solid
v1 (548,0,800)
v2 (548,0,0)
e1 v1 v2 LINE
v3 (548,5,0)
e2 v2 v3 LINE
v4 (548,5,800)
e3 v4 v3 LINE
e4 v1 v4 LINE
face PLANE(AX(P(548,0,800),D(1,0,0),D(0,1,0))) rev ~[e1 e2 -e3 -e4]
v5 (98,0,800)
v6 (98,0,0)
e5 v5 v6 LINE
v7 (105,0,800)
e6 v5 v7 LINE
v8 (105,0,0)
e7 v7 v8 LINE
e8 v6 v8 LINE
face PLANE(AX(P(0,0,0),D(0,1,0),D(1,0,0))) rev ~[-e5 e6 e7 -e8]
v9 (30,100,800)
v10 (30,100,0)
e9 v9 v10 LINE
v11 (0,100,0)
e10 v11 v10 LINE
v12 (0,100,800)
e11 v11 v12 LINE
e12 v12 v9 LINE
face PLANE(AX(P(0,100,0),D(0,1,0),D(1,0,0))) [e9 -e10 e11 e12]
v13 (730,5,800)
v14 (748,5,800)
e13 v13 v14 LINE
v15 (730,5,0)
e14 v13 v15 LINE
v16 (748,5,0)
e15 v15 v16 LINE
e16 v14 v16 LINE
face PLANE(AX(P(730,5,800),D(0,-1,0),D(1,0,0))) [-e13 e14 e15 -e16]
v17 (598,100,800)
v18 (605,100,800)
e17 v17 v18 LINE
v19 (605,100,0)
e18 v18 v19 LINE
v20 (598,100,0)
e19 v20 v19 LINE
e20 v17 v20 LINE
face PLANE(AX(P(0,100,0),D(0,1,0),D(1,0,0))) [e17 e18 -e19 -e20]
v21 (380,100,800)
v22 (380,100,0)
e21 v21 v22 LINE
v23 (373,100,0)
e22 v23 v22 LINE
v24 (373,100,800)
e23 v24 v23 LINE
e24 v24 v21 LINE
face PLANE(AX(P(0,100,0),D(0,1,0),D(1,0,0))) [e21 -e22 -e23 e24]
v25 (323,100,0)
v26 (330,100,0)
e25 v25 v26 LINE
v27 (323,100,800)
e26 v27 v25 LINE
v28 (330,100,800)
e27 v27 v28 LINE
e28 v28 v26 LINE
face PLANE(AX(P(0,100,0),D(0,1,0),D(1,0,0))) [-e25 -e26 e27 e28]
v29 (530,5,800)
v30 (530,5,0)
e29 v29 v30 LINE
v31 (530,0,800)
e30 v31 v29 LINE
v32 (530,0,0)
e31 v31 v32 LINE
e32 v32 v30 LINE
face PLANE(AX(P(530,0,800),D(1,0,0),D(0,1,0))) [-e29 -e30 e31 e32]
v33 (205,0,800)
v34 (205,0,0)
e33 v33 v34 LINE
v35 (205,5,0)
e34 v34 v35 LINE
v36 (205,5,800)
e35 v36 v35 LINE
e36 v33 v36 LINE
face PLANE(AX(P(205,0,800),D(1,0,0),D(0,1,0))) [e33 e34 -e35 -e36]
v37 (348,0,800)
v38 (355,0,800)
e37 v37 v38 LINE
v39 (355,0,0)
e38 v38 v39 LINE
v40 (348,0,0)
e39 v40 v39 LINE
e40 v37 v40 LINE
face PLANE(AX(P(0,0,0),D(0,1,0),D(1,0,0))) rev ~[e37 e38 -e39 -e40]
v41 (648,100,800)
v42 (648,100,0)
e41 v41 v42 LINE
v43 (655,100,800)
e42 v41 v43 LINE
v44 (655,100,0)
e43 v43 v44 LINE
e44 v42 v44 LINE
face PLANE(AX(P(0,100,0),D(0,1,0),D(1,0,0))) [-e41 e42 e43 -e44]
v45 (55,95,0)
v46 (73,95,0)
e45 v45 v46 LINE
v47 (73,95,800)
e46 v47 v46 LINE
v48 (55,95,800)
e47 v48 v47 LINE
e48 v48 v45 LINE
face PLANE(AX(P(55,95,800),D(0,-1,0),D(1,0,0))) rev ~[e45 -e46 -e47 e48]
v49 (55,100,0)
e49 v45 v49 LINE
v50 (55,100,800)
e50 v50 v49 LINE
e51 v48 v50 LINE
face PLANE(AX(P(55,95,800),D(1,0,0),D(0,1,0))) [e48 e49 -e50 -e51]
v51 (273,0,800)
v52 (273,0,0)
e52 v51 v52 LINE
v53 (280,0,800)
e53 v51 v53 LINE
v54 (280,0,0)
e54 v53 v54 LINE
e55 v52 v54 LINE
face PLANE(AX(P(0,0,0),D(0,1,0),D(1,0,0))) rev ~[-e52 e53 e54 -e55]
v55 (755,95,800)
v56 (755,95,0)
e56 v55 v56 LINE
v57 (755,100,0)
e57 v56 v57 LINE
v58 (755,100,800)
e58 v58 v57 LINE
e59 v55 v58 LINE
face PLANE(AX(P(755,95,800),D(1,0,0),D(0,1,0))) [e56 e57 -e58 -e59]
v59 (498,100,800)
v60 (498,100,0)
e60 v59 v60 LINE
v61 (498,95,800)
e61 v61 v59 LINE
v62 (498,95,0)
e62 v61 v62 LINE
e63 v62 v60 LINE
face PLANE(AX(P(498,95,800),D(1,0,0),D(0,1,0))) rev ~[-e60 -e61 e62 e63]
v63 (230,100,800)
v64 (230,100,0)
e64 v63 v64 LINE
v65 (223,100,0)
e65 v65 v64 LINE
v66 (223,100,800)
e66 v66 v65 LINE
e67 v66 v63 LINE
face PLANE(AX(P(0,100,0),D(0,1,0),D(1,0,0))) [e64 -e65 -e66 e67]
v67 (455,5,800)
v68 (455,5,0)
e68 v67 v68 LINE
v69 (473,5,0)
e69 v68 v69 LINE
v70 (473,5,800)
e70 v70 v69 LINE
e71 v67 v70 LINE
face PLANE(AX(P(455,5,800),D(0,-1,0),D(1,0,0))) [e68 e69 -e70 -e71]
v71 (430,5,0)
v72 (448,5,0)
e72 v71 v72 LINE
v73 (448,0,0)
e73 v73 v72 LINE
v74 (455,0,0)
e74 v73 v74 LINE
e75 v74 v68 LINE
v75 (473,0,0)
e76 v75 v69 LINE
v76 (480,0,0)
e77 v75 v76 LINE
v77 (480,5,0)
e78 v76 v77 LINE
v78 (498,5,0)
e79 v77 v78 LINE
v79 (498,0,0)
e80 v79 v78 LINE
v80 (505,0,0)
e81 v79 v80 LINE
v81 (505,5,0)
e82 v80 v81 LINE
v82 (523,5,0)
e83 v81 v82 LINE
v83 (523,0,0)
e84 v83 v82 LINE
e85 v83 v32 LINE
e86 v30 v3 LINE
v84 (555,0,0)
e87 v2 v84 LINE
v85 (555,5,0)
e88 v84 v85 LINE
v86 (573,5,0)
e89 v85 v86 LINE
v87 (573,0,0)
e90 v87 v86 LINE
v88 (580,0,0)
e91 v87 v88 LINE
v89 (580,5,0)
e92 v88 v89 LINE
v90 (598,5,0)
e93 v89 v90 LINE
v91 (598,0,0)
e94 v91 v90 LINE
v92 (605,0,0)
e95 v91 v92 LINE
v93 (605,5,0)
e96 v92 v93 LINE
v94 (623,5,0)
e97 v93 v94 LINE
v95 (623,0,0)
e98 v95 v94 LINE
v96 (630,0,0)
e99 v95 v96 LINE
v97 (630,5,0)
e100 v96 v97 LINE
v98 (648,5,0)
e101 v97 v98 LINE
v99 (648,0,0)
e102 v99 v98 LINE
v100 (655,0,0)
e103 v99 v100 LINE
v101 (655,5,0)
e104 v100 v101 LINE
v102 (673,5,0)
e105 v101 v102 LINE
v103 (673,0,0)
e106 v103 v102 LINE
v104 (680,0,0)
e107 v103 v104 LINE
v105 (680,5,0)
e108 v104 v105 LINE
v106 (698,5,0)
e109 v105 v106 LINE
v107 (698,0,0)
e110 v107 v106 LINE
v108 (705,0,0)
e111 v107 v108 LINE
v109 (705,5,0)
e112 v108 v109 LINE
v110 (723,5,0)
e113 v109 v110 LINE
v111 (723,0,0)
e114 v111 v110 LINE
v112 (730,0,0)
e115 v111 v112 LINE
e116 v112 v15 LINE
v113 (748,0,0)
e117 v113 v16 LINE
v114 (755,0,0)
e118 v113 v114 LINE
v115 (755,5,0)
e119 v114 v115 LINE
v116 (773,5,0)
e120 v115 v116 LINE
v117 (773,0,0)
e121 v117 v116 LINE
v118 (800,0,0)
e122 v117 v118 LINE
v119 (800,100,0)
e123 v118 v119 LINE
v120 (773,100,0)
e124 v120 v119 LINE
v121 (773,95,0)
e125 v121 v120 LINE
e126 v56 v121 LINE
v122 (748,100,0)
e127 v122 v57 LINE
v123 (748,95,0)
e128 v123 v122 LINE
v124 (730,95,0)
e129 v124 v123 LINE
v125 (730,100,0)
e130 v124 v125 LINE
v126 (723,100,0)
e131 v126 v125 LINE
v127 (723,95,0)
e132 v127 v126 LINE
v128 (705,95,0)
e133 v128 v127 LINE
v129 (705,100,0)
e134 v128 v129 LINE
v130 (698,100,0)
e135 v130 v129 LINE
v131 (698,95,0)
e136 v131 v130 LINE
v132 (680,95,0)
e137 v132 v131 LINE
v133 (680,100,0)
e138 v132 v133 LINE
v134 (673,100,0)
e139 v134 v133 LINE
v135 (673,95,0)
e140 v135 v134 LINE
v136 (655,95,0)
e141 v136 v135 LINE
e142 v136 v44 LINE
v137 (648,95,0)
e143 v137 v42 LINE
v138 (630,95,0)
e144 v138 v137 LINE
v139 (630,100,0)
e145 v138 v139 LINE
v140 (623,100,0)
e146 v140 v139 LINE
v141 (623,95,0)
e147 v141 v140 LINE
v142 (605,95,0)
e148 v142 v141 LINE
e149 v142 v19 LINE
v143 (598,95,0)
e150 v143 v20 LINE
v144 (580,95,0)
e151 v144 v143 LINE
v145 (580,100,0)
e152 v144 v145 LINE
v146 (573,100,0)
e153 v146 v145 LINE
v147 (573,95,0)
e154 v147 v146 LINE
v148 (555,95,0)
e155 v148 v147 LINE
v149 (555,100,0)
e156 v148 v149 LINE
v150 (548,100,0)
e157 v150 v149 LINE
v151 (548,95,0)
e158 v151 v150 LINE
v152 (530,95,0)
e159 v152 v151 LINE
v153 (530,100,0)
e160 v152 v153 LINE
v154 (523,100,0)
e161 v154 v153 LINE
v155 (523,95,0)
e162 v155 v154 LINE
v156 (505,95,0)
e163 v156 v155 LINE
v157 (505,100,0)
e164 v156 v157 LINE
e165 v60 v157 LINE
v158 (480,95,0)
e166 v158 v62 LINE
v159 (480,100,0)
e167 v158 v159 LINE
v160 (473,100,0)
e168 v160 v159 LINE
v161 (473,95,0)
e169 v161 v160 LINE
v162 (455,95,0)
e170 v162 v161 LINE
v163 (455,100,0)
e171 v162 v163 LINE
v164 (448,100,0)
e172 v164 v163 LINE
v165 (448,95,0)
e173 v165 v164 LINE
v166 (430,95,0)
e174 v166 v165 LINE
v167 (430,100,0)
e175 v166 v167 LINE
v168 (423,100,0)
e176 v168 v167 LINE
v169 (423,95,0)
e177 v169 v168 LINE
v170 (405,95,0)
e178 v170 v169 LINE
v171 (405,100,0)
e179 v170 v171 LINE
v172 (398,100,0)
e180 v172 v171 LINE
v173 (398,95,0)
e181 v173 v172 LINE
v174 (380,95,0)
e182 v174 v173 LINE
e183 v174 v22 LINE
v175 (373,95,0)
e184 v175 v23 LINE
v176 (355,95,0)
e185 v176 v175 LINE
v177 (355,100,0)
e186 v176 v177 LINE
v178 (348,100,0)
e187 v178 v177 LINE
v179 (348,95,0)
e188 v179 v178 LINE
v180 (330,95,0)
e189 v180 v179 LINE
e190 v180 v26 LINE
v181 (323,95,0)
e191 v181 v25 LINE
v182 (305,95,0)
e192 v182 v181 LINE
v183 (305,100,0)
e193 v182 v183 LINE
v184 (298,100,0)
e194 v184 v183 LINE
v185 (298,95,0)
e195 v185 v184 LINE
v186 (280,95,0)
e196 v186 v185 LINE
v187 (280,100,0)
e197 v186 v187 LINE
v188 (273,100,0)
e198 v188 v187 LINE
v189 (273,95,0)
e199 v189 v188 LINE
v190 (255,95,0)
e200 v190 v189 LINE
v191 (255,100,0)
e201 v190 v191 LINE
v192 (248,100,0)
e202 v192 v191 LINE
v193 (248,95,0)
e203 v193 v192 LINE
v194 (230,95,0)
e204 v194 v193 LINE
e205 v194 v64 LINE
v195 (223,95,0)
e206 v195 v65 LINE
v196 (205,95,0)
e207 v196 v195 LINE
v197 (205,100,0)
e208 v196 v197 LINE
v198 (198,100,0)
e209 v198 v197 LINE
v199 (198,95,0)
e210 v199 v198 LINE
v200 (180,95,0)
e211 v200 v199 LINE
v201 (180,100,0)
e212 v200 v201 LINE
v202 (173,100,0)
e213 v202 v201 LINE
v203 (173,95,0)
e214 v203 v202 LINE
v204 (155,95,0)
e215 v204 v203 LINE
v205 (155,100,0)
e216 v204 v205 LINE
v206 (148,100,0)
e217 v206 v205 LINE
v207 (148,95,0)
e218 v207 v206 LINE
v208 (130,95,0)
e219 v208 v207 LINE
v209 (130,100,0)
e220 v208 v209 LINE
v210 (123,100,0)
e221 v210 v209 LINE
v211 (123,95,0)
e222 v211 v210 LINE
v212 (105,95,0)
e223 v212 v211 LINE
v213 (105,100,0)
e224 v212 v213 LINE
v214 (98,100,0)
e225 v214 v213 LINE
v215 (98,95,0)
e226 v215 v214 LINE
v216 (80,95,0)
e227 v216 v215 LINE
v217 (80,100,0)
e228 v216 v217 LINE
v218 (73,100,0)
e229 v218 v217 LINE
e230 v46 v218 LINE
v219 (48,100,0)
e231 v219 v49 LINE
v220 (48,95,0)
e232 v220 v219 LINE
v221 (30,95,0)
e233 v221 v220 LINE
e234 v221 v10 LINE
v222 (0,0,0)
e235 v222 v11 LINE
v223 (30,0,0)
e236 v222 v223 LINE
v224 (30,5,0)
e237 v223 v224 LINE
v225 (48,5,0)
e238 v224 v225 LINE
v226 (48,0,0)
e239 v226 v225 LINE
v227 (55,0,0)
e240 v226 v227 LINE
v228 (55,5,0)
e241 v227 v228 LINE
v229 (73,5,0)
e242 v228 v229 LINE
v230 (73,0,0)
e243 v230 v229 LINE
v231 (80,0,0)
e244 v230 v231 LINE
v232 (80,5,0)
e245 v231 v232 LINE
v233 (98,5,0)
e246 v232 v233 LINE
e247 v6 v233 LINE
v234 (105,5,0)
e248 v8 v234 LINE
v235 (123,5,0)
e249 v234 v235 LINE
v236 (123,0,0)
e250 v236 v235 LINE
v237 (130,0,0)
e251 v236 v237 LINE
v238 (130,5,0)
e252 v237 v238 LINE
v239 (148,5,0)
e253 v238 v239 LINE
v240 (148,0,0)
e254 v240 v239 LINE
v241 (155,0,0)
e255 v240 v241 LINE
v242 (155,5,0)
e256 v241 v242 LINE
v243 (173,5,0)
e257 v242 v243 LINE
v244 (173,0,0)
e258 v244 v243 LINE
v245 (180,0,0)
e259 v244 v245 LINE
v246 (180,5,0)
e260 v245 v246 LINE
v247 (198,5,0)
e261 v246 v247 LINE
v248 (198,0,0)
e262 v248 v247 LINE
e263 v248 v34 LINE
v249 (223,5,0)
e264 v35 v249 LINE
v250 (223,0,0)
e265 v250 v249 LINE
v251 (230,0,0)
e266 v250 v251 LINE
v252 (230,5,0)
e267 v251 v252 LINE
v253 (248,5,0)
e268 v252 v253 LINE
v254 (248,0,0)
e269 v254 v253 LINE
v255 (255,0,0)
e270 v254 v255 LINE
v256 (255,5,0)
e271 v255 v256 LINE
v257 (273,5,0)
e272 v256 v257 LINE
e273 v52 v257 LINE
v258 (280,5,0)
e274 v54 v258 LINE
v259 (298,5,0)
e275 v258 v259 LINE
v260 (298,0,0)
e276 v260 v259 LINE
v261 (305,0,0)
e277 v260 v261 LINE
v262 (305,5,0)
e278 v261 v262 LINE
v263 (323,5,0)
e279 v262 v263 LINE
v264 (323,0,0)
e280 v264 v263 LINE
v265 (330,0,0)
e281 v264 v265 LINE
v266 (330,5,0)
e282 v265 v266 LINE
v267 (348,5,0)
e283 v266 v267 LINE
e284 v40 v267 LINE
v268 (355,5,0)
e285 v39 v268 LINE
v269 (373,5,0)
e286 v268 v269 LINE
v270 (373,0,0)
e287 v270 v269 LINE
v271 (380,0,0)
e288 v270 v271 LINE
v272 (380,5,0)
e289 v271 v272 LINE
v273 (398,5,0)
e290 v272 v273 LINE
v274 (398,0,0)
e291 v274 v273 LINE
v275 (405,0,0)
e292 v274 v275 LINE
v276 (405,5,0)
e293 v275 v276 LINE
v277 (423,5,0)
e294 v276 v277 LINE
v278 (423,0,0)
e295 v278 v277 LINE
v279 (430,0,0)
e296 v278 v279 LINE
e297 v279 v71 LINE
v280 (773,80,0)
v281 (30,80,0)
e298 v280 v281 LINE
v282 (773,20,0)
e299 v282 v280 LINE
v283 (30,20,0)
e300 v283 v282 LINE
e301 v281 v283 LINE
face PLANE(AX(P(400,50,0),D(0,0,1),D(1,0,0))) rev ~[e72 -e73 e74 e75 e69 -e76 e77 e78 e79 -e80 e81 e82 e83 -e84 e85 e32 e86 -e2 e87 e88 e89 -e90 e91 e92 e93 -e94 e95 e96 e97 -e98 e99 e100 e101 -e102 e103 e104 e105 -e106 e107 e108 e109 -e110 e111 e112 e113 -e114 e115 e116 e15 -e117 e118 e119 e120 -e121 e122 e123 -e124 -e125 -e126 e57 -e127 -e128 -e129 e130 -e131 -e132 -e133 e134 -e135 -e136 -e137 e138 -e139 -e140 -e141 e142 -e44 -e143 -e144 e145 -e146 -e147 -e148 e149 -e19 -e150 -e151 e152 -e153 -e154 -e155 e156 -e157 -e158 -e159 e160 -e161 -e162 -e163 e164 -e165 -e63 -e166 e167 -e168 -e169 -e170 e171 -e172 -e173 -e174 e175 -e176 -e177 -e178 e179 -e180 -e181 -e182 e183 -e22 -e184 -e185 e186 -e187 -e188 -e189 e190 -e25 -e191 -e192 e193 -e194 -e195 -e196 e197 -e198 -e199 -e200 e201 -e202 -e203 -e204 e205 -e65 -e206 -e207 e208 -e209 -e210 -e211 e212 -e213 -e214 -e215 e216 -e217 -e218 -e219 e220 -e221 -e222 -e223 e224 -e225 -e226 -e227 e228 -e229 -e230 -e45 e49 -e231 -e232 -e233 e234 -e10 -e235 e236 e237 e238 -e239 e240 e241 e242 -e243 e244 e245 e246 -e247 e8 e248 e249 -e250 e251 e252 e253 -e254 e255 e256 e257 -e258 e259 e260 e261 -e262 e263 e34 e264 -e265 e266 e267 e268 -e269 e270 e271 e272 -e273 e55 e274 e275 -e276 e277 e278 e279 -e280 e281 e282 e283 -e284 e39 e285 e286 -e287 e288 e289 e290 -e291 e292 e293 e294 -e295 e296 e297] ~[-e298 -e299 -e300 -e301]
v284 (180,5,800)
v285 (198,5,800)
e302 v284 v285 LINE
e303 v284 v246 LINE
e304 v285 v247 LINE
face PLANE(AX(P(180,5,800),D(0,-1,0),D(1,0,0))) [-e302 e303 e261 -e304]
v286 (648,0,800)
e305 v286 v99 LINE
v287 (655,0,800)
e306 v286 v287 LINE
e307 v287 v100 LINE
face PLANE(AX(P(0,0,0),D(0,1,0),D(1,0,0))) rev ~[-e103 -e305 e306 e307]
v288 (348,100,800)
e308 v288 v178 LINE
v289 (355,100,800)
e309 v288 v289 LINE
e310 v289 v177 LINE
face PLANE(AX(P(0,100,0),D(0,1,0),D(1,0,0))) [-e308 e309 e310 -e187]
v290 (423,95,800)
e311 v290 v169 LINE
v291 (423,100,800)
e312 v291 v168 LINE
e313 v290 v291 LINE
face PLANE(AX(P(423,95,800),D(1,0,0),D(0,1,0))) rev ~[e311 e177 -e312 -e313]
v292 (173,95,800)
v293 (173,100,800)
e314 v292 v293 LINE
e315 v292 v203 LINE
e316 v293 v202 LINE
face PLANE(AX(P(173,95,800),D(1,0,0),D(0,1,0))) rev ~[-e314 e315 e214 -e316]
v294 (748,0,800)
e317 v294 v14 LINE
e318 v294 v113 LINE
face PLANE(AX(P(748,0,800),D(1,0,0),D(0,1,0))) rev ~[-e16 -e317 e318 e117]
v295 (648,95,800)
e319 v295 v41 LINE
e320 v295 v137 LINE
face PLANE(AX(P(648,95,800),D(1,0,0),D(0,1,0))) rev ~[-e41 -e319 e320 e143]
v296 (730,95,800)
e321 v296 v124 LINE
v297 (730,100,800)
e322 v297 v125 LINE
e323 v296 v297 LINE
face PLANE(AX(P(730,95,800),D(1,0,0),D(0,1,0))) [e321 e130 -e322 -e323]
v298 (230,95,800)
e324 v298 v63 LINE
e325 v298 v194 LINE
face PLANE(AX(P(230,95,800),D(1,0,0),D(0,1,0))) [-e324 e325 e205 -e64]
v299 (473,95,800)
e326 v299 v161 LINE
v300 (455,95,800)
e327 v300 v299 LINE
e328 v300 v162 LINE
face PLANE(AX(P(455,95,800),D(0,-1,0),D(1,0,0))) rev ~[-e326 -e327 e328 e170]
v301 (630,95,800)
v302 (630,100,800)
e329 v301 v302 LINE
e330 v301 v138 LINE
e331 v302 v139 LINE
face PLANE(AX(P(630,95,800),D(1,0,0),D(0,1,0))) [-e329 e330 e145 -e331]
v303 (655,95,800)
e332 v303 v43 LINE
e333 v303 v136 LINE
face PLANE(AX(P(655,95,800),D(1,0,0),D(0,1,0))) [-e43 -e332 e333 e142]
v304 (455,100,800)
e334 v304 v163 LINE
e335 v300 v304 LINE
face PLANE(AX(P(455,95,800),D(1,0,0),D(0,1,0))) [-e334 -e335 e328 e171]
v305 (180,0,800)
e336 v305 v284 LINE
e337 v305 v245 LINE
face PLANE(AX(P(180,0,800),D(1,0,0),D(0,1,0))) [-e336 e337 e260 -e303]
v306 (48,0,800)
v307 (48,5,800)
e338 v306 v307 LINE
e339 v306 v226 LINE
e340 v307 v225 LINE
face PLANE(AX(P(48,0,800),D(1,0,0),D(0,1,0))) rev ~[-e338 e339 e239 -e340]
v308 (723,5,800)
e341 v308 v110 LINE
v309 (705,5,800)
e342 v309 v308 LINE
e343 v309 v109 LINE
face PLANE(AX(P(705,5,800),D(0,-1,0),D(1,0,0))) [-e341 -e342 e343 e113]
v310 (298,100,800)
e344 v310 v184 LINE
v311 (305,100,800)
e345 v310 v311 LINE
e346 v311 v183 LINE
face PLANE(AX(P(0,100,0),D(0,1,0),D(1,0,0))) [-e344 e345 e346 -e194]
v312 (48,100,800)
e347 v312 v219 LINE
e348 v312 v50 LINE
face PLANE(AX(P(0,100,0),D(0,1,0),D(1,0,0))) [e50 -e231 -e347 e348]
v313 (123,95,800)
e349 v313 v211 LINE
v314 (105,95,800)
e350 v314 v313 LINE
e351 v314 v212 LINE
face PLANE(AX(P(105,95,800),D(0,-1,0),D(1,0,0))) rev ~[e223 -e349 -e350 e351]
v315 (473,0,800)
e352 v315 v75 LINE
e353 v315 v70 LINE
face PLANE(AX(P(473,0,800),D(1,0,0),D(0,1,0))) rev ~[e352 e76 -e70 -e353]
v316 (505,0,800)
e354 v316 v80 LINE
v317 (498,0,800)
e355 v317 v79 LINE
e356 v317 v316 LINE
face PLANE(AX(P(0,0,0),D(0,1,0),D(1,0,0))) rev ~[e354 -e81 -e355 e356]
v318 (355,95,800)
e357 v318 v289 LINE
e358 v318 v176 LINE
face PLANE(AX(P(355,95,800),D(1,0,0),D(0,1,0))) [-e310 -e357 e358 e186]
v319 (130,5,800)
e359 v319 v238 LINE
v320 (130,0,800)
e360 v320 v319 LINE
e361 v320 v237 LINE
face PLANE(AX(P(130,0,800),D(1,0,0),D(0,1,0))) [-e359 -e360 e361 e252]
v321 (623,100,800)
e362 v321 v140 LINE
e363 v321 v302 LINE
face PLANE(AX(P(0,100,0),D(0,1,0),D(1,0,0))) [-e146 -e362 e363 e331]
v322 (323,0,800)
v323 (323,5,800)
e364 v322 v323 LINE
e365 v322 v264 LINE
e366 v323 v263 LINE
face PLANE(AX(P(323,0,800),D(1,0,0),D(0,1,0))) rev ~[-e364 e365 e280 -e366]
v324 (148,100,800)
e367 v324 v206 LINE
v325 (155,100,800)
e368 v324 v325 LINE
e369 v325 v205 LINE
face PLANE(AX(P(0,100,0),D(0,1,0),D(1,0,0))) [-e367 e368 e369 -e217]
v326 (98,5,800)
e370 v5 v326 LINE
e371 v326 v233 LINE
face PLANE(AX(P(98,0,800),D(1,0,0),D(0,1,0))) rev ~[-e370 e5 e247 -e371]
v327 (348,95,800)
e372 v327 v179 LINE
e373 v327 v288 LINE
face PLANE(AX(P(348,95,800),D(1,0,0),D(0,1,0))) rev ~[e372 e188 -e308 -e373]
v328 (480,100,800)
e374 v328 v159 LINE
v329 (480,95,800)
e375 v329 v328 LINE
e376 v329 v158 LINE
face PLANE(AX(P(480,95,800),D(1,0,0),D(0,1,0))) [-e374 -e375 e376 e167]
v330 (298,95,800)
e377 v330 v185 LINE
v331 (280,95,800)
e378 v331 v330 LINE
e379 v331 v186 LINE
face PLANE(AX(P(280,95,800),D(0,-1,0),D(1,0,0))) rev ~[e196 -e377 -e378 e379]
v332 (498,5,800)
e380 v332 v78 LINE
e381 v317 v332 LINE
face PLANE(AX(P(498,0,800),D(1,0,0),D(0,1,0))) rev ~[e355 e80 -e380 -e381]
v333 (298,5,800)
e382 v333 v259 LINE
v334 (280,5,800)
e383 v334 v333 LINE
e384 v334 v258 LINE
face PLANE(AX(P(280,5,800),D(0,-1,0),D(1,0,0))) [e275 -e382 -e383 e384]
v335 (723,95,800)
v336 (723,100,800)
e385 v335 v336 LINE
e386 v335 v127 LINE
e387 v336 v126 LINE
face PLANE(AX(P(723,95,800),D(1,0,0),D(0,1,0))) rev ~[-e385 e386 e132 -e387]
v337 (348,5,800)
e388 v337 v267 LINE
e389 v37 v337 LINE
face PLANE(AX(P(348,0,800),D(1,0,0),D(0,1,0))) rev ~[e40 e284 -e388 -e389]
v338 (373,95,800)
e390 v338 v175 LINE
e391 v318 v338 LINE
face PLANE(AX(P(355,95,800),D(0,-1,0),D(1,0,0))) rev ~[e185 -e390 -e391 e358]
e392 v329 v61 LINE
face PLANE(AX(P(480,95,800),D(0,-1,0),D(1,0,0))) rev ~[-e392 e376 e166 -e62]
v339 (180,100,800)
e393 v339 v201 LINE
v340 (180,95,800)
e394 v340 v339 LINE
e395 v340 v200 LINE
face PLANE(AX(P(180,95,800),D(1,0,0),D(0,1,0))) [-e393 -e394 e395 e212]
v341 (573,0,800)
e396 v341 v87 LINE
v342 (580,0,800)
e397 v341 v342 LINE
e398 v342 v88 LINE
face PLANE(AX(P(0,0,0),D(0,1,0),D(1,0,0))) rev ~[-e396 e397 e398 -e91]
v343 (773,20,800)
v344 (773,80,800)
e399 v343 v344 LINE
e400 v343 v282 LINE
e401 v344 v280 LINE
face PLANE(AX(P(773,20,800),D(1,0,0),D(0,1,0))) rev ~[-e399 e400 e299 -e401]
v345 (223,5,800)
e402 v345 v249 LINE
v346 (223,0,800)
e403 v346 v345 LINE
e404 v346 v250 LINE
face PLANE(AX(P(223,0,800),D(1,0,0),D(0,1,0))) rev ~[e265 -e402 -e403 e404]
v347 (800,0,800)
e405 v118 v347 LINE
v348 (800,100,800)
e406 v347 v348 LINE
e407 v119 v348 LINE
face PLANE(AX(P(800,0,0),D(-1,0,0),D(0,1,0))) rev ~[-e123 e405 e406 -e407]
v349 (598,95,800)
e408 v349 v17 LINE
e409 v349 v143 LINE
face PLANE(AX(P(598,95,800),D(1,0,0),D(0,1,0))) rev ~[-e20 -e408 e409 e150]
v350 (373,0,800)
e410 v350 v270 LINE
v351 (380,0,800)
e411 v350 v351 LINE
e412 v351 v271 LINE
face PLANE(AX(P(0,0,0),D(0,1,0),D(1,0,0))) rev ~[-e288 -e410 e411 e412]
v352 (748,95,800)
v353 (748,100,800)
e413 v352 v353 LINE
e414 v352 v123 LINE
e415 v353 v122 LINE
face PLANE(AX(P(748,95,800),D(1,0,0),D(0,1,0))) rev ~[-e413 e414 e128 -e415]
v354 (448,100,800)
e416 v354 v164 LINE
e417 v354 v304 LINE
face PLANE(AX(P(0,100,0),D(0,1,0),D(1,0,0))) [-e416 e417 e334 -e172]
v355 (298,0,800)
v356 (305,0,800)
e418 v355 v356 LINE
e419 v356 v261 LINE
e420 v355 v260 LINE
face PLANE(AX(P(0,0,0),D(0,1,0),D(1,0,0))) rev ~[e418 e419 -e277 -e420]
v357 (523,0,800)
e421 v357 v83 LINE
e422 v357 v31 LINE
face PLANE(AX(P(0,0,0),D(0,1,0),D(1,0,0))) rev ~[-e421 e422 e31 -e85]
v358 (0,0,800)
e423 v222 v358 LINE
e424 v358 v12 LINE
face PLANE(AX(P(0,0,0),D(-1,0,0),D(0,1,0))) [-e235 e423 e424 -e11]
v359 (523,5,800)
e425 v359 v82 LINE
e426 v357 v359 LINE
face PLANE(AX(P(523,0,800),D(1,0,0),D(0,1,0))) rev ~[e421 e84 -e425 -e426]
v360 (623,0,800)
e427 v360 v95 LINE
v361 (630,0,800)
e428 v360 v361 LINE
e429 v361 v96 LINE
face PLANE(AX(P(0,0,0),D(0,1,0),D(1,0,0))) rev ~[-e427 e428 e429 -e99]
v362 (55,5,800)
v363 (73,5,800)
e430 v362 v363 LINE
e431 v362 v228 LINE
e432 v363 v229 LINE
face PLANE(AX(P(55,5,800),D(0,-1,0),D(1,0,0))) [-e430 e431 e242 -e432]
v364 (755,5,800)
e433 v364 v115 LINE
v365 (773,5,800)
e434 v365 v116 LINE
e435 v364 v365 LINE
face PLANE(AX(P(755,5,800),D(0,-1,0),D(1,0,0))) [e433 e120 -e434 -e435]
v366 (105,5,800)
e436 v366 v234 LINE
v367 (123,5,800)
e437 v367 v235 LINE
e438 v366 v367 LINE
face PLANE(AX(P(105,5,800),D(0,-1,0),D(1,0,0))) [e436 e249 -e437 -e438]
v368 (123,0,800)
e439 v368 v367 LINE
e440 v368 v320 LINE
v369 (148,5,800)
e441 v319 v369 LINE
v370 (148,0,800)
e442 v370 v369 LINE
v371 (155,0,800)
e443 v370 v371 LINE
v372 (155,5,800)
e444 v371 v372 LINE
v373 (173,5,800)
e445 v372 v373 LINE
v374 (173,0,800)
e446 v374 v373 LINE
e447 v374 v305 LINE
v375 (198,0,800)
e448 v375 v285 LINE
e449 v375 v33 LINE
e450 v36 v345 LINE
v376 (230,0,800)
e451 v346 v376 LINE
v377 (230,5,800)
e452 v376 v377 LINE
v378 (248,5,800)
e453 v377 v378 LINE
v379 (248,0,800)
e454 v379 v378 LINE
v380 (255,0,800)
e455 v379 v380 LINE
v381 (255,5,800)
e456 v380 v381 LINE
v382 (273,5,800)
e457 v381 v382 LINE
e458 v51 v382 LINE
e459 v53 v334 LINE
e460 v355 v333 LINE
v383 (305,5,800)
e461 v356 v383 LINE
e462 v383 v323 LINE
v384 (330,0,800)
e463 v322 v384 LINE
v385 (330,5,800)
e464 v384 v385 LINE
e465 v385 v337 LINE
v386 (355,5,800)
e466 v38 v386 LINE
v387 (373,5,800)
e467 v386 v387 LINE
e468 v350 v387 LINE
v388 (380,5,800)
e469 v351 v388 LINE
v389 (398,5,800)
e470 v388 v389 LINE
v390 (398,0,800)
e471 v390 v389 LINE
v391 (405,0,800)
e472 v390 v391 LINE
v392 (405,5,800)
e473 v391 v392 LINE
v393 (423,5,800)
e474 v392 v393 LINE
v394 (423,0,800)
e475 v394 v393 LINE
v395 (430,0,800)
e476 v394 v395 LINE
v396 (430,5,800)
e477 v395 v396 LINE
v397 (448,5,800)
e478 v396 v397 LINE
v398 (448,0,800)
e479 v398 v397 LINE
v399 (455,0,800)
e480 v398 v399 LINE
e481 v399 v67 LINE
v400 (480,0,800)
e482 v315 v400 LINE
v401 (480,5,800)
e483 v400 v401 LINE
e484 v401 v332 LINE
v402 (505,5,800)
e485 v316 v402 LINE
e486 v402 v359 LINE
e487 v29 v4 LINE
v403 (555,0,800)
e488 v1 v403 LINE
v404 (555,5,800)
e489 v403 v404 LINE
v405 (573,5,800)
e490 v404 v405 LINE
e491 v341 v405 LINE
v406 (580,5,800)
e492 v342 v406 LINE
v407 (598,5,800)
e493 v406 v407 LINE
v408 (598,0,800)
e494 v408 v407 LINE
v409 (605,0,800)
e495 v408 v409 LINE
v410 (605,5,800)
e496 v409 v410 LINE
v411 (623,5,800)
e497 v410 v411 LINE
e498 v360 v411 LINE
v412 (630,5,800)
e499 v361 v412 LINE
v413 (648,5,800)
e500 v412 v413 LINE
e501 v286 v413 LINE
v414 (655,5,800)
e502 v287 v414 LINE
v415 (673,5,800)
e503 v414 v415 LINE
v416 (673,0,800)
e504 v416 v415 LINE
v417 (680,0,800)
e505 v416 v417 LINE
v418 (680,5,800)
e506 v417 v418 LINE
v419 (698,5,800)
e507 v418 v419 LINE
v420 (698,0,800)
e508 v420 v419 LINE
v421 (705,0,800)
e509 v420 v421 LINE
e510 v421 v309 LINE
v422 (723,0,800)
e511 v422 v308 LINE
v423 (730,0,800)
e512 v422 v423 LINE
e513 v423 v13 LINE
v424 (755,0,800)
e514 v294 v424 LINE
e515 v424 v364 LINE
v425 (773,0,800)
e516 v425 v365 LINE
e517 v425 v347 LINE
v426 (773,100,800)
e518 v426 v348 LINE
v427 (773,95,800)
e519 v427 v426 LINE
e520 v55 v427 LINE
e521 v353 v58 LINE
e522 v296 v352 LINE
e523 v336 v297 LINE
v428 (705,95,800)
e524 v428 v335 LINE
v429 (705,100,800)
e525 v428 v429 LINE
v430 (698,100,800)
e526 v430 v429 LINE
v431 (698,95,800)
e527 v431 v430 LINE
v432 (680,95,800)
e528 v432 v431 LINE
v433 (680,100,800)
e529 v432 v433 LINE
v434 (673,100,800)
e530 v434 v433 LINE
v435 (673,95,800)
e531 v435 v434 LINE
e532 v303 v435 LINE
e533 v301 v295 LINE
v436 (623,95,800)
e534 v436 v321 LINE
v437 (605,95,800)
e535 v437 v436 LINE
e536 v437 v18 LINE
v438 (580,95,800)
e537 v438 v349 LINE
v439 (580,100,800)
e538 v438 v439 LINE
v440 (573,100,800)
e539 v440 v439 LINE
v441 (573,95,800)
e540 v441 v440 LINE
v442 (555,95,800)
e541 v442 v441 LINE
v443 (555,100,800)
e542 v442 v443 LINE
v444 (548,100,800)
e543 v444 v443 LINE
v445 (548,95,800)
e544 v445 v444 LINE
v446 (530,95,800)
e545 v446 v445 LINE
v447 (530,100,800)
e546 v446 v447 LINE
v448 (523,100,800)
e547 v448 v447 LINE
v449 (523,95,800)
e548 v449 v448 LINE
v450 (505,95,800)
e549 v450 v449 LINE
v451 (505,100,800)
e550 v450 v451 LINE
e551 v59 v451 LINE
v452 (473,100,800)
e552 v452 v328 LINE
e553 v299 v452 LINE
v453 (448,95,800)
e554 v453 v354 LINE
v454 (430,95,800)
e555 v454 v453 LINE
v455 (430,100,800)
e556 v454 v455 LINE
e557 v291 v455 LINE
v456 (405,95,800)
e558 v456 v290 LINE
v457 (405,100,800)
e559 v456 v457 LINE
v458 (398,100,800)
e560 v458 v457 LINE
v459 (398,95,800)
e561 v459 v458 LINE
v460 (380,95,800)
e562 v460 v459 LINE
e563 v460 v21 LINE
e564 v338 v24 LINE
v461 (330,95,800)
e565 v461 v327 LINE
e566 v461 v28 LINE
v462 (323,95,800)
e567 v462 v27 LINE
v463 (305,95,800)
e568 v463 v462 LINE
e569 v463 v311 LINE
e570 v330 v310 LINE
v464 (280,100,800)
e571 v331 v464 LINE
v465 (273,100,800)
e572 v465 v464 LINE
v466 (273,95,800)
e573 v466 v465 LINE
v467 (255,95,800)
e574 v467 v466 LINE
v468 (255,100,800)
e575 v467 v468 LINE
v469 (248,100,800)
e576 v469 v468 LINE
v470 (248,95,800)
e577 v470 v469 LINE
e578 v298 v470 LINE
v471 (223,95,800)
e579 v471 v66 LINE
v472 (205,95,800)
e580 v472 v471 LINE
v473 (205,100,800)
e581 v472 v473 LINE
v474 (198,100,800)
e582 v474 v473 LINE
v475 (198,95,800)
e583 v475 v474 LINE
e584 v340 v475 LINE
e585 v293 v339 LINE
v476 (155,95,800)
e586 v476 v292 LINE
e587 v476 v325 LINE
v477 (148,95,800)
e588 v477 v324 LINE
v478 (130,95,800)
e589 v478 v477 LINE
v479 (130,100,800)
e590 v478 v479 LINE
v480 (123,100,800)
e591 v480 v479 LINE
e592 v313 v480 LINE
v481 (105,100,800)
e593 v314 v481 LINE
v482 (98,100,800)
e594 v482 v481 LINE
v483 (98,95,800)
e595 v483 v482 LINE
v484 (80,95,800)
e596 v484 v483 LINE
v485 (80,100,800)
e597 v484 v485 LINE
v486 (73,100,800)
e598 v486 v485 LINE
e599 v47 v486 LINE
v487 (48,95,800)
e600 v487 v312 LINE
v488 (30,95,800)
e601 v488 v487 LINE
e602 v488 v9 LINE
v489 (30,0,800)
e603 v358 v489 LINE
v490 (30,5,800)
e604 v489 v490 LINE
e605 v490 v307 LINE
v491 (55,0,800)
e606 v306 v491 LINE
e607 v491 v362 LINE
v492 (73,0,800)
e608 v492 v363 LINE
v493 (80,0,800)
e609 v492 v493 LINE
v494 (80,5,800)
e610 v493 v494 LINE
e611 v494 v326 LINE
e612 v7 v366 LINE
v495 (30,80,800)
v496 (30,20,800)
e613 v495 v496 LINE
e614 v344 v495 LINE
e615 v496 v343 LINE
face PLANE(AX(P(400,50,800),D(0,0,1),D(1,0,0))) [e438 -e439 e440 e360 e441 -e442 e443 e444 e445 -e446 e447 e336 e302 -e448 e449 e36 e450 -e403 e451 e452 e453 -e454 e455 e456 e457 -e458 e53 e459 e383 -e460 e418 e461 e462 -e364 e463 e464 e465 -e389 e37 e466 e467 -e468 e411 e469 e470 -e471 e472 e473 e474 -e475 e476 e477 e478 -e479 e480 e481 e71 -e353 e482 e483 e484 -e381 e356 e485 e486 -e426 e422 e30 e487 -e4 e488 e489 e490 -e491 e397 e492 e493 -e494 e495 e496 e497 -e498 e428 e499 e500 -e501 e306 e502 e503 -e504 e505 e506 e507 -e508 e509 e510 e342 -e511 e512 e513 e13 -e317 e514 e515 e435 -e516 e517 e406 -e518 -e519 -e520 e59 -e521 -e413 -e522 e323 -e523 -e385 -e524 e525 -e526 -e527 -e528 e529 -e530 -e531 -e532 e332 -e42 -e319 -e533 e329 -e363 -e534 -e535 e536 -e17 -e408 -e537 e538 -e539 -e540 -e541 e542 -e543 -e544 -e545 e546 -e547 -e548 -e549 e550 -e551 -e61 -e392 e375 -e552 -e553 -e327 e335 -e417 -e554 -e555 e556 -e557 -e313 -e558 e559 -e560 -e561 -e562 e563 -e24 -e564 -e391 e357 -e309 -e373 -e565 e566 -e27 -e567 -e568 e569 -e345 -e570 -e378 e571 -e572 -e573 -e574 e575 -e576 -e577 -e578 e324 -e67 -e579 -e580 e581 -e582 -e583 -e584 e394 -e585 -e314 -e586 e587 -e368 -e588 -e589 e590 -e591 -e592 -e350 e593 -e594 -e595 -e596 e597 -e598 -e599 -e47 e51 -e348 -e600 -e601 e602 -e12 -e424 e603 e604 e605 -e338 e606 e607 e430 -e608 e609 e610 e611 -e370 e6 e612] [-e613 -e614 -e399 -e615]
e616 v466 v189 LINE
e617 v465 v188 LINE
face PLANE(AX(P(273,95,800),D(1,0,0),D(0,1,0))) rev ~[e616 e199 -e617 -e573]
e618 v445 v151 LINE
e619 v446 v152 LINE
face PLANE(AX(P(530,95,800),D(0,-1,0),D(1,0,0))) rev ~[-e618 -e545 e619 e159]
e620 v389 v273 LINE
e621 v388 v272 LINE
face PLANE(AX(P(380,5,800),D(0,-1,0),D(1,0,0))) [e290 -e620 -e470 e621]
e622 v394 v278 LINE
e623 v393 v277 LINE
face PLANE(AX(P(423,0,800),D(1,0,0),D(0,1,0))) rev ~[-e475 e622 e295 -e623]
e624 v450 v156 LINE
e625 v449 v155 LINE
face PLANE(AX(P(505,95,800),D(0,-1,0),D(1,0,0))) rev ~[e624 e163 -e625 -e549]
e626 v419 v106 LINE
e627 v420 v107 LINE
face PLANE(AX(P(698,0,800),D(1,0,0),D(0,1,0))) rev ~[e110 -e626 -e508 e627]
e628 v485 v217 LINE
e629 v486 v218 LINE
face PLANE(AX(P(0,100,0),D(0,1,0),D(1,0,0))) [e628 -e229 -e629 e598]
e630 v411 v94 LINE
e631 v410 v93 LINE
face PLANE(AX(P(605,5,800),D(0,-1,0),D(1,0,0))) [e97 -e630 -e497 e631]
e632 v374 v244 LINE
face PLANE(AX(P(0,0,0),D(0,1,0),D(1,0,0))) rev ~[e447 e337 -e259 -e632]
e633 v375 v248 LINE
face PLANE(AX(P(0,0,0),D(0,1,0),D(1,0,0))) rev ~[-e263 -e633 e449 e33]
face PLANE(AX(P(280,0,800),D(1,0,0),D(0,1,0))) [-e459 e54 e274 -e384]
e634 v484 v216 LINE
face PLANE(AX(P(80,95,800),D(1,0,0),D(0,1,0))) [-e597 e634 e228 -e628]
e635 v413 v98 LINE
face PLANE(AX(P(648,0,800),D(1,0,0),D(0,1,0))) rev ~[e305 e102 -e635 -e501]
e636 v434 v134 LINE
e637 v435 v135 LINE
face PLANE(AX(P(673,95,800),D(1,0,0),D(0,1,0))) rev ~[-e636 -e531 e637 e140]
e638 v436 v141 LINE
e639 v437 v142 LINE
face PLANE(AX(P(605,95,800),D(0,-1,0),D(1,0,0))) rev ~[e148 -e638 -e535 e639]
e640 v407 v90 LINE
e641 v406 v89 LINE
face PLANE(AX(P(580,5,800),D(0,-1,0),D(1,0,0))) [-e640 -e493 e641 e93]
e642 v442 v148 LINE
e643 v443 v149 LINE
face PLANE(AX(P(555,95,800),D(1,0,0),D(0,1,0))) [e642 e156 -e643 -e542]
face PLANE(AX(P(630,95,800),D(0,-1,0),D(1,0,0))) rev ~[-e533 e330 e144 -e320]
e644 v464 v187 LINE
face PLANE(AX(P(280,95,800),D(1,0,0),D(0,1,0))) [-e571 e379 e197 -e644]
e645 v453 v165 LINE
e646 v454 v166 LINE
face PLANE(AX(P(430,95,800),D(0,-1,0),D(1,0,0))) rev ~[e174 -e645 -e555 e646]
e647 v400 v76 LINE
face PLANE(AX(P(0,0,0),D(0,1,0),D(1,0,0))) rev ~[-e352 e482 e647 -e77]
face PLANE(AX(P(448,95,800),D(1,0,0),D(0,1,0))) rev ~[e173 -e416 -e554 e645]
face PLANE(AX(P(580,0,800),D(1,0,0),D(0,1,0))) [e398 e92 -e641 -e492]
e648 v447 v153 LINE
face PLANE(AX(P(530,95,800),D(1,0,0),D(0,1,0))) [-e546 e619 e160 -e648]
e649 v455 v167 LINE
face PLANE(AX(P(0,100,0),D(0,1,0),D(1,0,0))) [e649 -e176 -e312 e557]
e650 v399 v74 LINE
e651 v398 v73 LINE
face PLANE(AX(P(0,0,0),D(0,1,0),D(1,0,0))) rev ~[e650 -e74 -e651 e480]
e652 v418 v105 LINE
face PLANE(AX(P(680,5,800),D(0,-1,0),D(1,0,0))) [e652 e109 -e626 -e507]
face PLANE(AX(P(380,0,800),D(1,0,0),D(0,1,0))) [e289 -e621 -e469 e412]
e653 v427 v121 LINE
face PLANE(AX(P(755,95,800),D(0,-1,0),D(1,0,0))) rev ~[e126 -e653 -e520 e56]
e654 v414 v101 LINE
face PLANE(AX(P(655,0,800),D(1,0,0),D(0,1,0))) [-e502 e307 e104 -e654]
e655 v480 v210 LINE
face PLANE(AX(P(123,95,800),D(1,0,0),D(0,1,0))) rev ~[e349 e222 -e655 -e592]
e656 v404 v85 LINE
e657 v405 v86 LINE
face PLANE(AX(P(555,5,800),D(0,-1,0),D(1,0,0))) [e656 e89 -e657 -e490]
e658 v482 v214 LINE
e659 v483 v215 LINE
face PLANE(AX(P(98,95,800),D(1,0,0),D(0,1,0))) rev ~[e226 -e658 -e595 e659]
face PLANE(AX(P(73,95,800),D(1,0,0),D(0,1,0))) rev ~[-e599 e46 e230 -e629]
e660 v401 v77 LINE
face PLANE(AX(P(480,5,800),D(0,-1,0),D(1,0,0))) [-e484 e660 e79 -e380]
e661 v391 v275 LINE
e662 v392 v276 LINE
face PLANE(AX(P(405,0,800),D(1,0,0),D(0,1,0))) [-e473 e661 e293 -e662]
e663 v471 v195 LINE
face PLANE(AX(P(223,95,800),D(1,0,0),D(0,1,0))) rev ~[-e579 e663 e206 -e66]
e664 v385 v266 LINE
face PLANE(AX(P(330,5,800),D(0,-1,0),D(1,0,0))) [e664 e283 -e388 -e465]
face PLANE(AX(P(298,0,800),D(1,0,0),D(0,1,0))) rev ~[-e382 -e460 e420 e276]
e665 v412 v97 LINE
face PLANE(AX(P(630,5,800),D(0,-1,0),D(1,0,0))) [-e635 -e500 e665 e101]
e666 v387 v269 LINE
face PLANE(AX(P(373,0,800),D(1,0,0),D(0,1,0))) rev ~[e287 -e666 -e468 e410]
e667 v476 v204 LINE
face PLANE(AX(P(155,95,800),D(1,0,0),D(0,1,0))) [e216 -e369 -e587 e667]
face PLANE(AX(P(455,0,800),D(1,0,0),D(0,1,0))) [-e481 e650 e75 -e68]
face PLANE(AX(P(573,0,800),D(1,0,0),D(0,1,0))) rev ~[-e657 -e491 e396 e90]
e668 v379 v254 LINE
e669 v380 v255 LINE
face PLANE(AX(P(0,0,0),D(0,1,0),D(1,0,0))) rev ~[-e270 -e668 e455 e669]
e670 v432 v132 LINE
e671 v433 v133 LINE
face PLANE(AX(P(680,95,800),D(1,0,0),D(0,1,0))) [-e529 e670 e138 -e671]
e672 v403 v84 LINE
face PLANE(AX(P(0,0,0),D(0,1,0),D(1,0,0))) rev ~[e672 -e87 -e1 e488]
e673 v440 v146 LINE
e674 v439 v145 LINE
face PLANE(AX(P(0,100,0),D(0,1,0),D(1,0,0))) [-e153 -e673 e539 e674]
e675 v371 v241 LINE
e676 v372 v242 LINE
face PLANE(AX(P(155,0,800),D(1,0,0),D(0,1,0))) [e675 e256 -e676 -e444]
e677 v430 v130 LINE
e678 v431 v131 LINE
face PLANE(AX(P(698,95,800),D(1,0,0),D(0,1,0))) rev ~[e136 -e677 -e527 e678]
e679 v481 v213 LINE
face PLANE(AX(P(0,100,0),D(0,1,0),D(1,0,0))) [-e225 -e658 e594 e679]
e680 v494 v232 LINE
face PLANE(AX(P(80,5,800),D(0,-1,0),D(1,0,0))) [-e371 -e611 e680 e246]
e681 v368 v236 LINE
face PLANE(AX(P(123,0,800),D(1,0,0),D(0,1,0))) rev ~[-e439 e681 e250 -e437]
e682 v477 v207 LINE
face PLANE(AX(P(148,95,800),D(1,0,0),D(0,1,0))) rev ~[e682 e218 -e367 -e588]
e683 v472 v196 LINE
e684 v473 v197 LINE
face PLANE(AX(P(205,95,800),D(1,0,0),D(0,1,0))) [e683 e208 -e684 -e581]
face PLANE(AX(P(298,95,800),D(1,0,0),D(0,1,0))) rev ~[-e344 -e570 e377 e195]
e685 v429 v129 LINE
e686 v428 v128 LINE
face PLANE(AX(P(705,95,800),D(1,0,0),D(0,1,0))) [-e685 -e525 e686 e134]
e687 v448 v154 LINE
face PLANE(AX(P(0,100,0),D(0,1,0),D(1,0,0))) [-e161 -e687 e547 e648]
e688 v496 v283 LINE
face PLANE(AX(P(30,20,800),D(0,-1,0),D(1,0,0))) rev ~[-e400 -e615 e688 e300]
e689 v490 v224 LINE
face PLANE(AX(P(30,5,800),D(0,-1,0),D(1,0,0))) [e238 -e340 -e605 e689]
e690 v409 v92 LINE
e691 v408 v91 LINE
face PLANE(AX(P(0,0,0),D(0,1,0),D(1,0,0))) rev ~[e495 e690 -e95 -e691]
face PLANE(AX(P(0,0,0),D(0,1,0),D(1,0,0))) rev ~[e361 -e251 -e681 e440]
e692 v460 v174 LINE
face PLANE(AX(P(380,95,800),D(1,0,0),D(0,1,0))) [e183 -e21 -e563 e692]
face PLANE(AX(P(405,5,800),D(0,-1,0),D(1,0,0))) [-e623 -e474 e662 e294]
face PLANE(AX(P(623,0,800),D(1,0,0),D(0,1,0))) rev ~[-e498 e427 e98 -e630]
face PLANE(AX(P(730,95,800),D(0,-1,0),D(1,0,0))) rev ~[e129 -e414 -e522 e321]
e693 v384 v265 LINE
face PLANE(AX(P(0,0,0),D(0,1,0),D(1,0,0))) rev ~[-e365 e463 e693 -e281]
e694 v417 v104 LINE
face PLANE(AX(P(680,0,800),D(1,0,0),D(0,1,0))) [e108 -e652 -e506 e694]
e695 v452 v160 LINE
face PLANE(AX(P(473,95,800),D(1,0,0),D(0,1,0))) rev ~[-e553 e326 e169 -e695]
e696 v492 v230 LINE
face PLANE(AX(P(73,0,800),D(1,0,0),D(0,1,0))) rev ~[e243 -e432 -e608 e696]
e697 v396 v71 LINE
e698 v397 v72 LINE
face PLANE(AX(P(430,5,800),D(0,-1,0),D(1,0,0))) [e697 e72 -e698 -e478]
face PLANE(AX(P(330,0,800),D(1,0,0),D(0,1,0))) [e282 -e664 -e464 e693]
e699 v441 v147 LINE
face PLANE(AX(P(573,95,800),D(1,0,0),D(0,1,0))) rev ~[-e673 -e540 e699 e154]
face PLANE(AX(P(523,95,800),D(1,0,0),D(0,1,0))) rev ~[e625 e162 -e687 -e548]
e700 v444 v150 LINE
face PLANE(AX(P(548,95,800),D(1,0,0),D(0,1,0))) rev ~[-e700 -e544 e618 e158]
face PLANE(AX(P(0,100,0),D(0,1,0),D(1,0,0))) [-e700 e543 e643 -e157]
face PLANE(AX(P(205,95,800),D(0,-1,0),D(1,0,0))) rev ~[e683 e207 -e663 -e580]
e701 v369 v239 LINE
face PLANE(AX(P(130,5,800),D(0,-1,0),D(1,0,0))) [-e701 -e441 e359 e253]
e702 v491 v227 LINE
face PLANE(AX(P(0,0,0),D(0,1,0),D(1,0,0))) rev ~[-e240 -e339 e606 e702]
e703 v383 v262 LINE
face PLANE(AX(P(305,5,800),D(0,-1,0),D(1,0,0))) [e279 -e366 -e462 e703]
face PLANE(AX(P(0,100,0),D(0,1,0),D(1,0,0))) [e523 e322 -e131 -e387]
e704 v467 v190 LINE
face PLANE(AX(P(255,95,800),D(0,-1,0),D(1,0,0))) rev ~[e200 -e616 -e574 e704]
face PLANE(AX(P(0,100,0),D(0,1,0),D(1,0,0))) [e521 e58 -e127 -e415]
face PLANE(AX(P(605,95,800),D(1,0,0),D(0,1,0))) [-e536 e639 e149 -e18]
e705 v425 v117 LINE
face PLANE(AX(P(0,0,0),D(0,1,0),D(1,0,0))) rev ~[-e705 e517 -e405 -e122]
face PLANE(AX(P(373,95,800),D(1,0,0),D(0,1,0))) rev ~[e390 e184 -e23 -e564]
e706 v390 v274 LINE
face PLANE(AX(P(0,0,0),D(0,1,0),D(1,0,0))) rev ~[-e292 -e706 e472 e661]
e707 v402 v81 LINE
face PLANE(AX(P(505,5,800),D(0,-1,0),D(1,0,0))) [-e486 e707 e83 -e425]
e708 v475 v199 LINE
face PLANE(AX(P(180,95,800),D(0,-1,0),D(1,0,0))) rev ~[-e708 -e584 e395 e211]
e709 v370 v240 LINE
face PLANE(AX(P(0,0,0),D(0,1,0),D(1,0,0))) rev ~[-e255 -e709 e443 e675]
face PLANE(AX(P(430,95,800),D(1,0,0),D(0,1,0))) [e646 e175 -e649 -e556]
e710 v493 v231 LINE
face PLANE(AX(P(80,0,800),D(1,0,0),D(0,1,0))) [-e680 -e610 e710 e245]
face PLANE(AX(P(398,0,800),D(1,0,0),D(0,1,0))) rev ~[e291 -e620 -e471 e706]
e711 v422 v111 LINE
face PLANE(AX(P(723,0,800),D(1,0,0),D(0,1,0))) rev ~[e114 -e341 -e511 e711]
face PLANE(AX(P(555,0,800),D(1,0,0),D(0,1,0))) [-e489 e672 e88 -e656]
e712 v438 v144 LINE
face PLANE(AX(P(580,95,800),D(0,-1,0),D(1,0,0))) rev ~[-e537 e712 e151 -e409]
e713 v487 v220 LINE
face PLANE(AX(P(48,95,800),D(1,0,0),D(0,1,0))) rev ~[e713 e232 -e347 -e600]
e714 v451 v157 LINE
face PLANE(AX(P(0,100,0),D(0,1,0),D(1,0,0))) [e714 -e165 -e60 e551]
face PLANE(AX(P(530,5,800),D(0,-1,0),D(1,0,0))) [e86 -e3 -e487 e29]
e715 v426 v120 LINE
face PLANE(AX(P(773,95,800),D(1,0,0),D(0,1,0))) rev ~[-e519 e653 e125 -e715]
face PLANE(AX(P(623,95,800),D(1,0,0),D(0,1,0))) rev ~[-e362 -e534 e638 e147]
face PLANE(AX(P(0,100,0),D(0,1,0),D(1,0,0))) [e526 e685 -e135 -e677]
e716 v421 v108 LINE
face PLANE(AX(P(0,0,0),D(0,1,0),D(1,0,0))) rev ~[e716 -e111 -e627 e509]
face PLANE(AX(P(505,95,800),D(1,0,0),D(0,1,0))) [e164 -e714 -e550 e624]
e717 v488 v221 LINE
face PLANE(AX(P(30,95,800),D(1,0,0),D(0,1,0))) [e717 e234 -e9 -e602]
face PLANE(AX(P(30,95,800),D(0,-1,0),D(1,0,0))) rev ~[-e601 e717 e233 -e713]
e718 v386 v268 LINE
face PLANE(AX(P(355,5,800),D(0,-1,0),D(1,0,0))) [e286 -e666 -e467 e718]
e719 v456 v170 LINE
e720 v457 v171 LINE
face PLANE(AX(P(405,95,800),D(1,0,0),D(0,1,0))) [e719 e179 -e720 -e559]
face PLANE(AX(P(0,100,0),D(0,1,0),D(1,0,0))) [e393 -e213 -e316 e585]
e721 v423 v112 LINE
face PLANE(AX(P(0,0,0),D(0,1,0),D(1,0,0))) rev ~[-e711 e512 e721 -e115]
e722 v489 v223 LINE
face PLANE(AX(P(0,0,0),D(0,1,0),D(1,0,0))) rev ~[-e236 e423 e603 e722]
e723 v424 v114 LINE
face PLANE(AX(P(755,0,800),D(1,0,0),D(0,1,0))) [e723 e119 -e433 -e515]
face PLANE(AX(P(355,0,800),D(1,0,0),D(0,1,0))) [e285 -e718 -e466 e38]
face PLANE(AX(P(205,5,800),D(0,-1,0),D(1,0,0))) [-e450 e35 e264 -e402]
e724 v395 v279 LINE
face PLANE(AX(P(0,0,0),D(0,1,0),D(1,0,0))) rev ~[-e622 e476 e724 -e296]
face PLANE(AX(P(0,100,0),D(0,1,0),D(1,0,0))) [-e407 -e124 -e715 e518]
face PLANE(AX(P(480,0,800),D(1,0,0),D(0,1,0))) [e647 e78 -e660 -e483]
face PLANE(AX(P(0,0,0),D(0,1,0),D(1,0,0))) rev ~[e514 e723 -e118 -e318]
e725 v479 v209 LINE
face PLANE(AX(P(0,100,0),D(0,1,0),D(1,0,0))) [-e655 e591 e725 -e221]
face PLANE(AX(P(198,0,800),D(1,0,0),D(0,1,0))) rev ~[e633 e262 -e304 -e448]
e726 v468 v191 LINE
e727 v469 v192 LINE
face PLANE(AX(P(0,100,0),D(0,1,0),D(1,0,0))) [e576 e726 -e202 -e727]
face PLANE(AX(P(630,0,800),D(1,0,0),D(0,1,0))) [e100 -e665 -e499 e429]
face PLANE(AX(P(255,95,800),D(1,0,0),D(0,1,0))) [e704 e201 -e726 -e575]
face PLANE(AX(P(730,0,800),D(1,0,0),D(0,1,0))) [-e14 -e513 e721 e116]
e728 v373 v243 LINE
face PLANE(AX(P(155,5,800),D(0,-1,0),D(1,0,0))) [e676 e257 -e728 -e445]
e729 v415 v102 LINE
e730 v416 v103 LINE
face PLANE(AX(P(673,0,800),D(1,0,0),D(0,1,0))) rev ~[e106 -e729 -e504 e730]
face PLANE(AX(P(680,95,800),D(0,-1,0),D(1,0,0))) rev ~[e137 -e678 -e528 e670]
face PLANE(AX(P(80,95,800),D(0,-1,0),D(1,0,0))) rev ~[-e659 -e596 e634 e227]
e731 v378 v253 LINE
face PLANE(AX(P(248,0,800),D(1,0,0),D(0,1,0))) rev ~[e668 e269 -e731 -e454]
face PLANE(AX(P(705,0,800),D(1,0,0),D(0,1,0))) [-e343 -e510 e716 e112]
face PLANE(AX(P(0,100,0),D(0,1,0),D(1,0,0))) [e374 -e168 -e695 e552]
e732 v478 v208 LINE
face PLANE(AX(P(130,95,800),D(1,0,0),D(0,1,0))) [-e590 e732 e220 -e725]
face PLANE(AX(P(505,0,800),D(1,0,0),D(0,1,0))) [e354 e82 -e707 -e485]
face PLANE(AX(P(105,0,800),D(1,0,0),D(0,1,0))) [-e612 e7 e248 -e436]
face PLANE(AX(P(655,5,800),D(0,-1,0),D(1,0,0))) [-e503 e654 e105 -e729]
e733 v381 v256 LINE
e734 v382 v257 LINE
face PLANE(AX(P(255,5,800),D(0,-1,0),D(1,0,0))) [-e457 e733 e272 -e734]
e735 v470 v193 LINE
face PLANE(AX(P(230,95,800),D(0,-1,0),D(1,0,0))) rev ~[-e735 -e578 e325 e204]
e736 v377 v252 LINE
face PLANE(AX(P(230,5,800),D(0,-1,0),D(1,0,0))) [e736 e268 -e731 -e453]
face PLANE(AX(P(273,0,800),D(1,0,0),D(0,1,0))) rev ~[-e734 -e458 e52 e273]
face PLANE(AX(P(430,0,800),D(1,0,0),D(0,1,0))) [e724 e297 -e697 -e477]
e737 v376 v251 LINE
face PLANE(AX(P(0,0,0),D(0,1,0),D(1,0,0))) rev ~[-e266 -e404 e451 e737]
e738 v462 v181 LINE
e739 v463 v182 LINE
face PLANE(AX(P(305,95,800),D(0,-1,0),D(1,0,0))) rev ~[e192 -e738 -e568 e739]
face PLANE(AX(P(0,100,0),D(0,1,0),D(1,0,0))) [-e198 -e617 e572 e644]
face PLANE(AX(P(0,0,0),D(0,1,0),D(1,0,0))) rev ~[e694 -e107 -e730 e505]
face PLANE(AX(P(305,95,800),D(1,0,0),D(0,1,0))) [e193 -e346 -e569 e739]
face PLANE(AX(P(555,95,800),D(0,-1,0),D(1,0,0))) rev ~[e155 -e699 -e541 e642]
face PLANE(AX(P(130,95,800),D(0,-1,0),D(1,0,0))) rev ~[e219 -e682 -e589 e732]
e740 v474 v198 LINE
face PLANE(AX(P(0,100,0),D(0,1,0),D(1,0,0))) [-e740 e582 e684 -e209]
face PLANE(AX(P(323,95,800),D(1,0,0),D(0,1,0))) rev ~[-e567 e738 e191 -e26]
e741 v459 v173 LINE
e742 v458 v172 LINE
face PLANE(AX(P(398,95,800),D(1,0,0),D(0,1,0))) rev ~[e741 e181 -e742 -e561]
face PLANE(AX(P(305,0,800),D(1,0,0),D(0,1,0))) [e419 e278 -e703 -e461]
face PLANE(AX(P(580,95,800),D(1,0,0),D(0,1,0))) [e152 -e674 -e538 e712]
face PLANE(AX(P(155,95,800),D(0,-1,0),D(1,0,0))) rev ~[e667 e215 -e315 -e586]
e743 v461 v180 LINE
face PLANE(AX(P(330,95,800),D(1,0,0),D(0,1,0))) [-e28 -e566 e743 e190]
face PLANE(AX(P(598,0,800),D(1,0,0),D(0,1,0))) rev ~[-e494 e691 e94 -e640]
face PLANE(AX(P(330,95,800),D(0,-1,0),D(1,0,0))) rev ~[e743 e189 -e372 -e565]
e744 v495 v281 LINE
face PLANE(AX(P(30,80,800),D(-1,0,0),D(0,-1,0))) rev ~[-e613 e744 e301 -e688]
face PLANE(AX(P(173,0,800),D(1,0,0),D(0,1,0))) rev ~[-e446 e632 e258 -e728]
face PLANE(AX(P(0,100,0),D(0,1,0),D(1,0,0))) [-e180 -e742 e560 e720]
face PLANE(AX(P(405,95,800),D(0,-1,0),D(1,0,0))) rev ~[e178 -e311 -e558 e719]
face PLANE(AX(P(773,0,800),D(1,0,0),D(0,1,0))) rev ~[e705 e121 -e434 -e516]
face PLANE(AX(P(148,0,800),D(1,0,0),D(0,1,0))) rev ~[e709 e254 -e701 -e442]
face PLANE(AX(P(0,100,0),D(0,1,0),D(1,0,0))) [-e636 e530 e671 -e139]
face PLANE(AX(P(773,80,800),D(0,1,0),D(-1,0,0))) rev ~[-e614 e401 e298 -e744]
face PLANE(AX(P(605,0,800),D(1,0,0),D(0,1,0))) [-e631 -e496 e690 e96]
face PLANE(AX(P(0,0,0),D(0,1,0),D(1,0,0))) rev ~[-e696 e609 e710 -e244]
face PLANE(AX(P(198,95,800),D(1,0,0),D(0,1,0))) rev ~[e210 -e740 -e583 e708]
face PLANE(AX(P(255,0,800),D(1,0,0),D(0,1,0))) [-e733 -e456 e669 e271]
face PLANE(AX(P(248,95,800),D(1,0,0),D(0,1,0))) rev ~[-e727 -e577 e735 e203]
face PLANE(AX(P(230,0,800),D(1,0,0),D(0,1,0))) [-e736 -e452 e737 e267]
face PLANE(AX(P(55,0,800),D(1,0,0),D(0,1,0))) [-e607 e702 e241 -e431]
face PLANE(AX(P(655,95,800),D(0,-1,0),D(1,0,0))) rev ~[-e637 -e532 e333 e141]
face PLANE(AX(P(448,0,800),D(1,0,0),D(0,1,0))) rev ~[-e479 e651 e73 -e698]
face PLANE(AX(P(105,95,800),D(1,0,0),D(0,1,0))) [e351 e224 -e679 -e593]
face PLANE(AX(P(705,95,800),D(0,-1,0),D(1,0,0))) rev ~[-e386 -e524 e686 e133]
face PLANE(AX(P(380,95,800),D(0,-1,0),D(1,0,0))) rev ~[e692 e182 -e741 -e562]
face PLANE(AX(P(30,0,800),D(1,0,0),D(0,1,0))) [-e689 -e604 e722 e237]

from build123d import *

# Parameters (mm, degrees)
F0_W     = 800
F0_H     = 100
F1_DEPTH = 800
F2_W     = 18
F2_H     = 5
F3_DEPTH = 800


with BuildPart() as f1:
    # F0 (on Top) → F1 (new body)
    with BuildSketch(Plane.XY):
        with Locations((400, 50)):
            Rectangle(F0_W, F0_H)
    extrude(amount=F1_DEPTH)

    # F2 (on face) → F3 (cut, through all)
    with BuildSketch(Plane.XY.offset(800)):
        Polygon((30, 50), (30, 20), (773, 20), (773, 50), (773, 80), (30, 80), align=None)
        with Locations((39, 2.5)):
            Rectangle(F2_W, F2_H)
        with Locations((64, 2.5)):
            Rectangle(F2_W, F2_H)
        with Locations((89, 2.5)):
            Rectangle(F2_W, F2_H)
        with Locations((114, 2.5)):
            Rectangle(F2_W, F2_H)
        with Locations((139, 2.5)):
            Rectangle(F2_W, F2_H)
        with Locations((339, 97.5)):
            Rectangle(F2_W, F2_H)
        with Locations((289, 2.5)):
            Rectangle(F2_W, F2_H)
        with Locations((264, 2.5)):
            Rectangle(F2_W, F2_H)
        with Locations((239, 2.5)):
            Rectangle(F2_W, F2_H)
        with Locations((689, 97.5)):
            Rectangle(F2_W, F2_H)
        with Locations((364, 97.5)):
            Rectangle(F2_W, F2_H)
        with Locations((639, 2.5)):
            Rectangle(F2_W, F2_H)
        with Locations((614, 2.5)):
            Rectangle(F2_W, F2_H)
        with Locations((589, 2.5)):
            Rectangle(F2_W, F2_H)
        with Locations((314, 97.5)):
            Rectangle(F2_W, F2_H)
        with Locations((664, 97.5)):
            Rectangle(F2_W, F2_H)
        with Locations((539, 2.5)):
            Rectangle(F2_W, F2_H)
        with Locations((514, 97.5)):
            Rectangle(F2_W, F2_H)
        with Locations((314, 2.5)):
            Rectangle(F2_W, F2_H)
        with Locations((214, 2.5)):
            Rectangle(F2_W, F2_H)
        with Locations((189, 2.5)):
            Rectangle(F2_W, F2_H)
        with Locations((164, 2.5)):
            Rectangle(F2_W, F2_H)
        with Locations((364, 2.5)):
            Rectangle(F2_W, F2_H)
        with Locations((339, 2.5)):
            Rectangle(F2_W, F2_H)
        with Locations((389, 2.5)):
            Rectangle(F2_W, F2_H)
        with Locations((714, 2.5)):
            Rectangle(F2_W, F2_H)
        with Locations((614, 97.5)):
            Rectangle(F2_W, F2_H)
        with Locations((514, 2.5)):
            Rectangle(F2_W, F2_H)
        with Locations((214, 97.5)):
            Rectangle(F2_W, F2_H)
        with Locations((114, 97.5)):
            Rectangle(F2_W, F2_H)
        with Locations((489, 2.5)):
            Rectangle(F2_W, F2_H)
        with Locations((89, 97.5)):
            Rectangle(F2_W, F2_H)
        with Locations((714, 97.5)):
            Rectangle(F2_W, F2_H)
        with Locations((464, 2.5)):
            Rectangle(F2_W, F2_H)
        with Locations((189, 97.5)):
            Rectangle(F2_W, F2_H)
        with Locations((689, 2.5)):
            Rectangle(F2_W, F2_H)
        with Locations((439, 97.5)):
            Rectangle(F2_W, F2_H)
        with Locations((289, 97.5)):
            Rectangle(F2_W, F2_H)
        with Locations((439, 2.5)):
            Rectangle(F2_W, F2_H)
        with Locations((264, 97.5)):
            Rectangle(F2_W, F2_H)
        with Locations((389, 97.5)):
            Rectangle(F2_W, F2_H)
        with Locations((664, 2.5)):
            Rectangle(F2_W, F2_H)
        with Locations((464, 97.5)):
            Rectangle(F2_W, F2_H)
        with Locations((414, 2.5)):
            Rectangle(F2_W, F2_H)
        with Locations((539, 97.5)):
            Rectangle(F2_W, F2_H)
        with Locations((564, 97.5)):
            Rectangle(F2_W, F2_H)
        with Locations((639, 97.5)):
            Rectangle(F2_W, F2_H)
        with Locations((164, 97.5)):
            Rectangle(F2_W, F2_H)
        with Locations((139, 97.5)):
            Rectangle(F2_W, F2_H)
        with Locations((39, 97.5)):
            Rectangle(F2_W, F2_H)
        with Locations((564, 2.5)):
            Rectangle(F2_W, F2_H)
        with Locations((239, 97.5)):
            Rectangle(F2_W, F2_H)
        with Locations((414, 97.5)):
            Rectangle(F2_W, F2_H)
        with Locations((589, 97.5)):
            Rectangle(F2_W, F2_H)
        with Locations((764, 2.5)):
            Rectangle(F2_W, F2_H)
        with Locations((64, 97.5)):
            Rectangle(F2_W, F2_H)
        with Locations((739, 2.5)):
            Rectangle(F2_W, F2_H)
        with Locations((489, 97.5)):
            Rectangle(F2_W, F2_H)
        with Locations((739, 97.5)):
            Rectangle(F2_W, F2_H)
        with Locations((764, 97.5)):
            Rectangle(F2_W, F2_H)
    extrude(amount=-F3_DEPTH, mode=Mode.SUBTRACT)


solid = f1.part
